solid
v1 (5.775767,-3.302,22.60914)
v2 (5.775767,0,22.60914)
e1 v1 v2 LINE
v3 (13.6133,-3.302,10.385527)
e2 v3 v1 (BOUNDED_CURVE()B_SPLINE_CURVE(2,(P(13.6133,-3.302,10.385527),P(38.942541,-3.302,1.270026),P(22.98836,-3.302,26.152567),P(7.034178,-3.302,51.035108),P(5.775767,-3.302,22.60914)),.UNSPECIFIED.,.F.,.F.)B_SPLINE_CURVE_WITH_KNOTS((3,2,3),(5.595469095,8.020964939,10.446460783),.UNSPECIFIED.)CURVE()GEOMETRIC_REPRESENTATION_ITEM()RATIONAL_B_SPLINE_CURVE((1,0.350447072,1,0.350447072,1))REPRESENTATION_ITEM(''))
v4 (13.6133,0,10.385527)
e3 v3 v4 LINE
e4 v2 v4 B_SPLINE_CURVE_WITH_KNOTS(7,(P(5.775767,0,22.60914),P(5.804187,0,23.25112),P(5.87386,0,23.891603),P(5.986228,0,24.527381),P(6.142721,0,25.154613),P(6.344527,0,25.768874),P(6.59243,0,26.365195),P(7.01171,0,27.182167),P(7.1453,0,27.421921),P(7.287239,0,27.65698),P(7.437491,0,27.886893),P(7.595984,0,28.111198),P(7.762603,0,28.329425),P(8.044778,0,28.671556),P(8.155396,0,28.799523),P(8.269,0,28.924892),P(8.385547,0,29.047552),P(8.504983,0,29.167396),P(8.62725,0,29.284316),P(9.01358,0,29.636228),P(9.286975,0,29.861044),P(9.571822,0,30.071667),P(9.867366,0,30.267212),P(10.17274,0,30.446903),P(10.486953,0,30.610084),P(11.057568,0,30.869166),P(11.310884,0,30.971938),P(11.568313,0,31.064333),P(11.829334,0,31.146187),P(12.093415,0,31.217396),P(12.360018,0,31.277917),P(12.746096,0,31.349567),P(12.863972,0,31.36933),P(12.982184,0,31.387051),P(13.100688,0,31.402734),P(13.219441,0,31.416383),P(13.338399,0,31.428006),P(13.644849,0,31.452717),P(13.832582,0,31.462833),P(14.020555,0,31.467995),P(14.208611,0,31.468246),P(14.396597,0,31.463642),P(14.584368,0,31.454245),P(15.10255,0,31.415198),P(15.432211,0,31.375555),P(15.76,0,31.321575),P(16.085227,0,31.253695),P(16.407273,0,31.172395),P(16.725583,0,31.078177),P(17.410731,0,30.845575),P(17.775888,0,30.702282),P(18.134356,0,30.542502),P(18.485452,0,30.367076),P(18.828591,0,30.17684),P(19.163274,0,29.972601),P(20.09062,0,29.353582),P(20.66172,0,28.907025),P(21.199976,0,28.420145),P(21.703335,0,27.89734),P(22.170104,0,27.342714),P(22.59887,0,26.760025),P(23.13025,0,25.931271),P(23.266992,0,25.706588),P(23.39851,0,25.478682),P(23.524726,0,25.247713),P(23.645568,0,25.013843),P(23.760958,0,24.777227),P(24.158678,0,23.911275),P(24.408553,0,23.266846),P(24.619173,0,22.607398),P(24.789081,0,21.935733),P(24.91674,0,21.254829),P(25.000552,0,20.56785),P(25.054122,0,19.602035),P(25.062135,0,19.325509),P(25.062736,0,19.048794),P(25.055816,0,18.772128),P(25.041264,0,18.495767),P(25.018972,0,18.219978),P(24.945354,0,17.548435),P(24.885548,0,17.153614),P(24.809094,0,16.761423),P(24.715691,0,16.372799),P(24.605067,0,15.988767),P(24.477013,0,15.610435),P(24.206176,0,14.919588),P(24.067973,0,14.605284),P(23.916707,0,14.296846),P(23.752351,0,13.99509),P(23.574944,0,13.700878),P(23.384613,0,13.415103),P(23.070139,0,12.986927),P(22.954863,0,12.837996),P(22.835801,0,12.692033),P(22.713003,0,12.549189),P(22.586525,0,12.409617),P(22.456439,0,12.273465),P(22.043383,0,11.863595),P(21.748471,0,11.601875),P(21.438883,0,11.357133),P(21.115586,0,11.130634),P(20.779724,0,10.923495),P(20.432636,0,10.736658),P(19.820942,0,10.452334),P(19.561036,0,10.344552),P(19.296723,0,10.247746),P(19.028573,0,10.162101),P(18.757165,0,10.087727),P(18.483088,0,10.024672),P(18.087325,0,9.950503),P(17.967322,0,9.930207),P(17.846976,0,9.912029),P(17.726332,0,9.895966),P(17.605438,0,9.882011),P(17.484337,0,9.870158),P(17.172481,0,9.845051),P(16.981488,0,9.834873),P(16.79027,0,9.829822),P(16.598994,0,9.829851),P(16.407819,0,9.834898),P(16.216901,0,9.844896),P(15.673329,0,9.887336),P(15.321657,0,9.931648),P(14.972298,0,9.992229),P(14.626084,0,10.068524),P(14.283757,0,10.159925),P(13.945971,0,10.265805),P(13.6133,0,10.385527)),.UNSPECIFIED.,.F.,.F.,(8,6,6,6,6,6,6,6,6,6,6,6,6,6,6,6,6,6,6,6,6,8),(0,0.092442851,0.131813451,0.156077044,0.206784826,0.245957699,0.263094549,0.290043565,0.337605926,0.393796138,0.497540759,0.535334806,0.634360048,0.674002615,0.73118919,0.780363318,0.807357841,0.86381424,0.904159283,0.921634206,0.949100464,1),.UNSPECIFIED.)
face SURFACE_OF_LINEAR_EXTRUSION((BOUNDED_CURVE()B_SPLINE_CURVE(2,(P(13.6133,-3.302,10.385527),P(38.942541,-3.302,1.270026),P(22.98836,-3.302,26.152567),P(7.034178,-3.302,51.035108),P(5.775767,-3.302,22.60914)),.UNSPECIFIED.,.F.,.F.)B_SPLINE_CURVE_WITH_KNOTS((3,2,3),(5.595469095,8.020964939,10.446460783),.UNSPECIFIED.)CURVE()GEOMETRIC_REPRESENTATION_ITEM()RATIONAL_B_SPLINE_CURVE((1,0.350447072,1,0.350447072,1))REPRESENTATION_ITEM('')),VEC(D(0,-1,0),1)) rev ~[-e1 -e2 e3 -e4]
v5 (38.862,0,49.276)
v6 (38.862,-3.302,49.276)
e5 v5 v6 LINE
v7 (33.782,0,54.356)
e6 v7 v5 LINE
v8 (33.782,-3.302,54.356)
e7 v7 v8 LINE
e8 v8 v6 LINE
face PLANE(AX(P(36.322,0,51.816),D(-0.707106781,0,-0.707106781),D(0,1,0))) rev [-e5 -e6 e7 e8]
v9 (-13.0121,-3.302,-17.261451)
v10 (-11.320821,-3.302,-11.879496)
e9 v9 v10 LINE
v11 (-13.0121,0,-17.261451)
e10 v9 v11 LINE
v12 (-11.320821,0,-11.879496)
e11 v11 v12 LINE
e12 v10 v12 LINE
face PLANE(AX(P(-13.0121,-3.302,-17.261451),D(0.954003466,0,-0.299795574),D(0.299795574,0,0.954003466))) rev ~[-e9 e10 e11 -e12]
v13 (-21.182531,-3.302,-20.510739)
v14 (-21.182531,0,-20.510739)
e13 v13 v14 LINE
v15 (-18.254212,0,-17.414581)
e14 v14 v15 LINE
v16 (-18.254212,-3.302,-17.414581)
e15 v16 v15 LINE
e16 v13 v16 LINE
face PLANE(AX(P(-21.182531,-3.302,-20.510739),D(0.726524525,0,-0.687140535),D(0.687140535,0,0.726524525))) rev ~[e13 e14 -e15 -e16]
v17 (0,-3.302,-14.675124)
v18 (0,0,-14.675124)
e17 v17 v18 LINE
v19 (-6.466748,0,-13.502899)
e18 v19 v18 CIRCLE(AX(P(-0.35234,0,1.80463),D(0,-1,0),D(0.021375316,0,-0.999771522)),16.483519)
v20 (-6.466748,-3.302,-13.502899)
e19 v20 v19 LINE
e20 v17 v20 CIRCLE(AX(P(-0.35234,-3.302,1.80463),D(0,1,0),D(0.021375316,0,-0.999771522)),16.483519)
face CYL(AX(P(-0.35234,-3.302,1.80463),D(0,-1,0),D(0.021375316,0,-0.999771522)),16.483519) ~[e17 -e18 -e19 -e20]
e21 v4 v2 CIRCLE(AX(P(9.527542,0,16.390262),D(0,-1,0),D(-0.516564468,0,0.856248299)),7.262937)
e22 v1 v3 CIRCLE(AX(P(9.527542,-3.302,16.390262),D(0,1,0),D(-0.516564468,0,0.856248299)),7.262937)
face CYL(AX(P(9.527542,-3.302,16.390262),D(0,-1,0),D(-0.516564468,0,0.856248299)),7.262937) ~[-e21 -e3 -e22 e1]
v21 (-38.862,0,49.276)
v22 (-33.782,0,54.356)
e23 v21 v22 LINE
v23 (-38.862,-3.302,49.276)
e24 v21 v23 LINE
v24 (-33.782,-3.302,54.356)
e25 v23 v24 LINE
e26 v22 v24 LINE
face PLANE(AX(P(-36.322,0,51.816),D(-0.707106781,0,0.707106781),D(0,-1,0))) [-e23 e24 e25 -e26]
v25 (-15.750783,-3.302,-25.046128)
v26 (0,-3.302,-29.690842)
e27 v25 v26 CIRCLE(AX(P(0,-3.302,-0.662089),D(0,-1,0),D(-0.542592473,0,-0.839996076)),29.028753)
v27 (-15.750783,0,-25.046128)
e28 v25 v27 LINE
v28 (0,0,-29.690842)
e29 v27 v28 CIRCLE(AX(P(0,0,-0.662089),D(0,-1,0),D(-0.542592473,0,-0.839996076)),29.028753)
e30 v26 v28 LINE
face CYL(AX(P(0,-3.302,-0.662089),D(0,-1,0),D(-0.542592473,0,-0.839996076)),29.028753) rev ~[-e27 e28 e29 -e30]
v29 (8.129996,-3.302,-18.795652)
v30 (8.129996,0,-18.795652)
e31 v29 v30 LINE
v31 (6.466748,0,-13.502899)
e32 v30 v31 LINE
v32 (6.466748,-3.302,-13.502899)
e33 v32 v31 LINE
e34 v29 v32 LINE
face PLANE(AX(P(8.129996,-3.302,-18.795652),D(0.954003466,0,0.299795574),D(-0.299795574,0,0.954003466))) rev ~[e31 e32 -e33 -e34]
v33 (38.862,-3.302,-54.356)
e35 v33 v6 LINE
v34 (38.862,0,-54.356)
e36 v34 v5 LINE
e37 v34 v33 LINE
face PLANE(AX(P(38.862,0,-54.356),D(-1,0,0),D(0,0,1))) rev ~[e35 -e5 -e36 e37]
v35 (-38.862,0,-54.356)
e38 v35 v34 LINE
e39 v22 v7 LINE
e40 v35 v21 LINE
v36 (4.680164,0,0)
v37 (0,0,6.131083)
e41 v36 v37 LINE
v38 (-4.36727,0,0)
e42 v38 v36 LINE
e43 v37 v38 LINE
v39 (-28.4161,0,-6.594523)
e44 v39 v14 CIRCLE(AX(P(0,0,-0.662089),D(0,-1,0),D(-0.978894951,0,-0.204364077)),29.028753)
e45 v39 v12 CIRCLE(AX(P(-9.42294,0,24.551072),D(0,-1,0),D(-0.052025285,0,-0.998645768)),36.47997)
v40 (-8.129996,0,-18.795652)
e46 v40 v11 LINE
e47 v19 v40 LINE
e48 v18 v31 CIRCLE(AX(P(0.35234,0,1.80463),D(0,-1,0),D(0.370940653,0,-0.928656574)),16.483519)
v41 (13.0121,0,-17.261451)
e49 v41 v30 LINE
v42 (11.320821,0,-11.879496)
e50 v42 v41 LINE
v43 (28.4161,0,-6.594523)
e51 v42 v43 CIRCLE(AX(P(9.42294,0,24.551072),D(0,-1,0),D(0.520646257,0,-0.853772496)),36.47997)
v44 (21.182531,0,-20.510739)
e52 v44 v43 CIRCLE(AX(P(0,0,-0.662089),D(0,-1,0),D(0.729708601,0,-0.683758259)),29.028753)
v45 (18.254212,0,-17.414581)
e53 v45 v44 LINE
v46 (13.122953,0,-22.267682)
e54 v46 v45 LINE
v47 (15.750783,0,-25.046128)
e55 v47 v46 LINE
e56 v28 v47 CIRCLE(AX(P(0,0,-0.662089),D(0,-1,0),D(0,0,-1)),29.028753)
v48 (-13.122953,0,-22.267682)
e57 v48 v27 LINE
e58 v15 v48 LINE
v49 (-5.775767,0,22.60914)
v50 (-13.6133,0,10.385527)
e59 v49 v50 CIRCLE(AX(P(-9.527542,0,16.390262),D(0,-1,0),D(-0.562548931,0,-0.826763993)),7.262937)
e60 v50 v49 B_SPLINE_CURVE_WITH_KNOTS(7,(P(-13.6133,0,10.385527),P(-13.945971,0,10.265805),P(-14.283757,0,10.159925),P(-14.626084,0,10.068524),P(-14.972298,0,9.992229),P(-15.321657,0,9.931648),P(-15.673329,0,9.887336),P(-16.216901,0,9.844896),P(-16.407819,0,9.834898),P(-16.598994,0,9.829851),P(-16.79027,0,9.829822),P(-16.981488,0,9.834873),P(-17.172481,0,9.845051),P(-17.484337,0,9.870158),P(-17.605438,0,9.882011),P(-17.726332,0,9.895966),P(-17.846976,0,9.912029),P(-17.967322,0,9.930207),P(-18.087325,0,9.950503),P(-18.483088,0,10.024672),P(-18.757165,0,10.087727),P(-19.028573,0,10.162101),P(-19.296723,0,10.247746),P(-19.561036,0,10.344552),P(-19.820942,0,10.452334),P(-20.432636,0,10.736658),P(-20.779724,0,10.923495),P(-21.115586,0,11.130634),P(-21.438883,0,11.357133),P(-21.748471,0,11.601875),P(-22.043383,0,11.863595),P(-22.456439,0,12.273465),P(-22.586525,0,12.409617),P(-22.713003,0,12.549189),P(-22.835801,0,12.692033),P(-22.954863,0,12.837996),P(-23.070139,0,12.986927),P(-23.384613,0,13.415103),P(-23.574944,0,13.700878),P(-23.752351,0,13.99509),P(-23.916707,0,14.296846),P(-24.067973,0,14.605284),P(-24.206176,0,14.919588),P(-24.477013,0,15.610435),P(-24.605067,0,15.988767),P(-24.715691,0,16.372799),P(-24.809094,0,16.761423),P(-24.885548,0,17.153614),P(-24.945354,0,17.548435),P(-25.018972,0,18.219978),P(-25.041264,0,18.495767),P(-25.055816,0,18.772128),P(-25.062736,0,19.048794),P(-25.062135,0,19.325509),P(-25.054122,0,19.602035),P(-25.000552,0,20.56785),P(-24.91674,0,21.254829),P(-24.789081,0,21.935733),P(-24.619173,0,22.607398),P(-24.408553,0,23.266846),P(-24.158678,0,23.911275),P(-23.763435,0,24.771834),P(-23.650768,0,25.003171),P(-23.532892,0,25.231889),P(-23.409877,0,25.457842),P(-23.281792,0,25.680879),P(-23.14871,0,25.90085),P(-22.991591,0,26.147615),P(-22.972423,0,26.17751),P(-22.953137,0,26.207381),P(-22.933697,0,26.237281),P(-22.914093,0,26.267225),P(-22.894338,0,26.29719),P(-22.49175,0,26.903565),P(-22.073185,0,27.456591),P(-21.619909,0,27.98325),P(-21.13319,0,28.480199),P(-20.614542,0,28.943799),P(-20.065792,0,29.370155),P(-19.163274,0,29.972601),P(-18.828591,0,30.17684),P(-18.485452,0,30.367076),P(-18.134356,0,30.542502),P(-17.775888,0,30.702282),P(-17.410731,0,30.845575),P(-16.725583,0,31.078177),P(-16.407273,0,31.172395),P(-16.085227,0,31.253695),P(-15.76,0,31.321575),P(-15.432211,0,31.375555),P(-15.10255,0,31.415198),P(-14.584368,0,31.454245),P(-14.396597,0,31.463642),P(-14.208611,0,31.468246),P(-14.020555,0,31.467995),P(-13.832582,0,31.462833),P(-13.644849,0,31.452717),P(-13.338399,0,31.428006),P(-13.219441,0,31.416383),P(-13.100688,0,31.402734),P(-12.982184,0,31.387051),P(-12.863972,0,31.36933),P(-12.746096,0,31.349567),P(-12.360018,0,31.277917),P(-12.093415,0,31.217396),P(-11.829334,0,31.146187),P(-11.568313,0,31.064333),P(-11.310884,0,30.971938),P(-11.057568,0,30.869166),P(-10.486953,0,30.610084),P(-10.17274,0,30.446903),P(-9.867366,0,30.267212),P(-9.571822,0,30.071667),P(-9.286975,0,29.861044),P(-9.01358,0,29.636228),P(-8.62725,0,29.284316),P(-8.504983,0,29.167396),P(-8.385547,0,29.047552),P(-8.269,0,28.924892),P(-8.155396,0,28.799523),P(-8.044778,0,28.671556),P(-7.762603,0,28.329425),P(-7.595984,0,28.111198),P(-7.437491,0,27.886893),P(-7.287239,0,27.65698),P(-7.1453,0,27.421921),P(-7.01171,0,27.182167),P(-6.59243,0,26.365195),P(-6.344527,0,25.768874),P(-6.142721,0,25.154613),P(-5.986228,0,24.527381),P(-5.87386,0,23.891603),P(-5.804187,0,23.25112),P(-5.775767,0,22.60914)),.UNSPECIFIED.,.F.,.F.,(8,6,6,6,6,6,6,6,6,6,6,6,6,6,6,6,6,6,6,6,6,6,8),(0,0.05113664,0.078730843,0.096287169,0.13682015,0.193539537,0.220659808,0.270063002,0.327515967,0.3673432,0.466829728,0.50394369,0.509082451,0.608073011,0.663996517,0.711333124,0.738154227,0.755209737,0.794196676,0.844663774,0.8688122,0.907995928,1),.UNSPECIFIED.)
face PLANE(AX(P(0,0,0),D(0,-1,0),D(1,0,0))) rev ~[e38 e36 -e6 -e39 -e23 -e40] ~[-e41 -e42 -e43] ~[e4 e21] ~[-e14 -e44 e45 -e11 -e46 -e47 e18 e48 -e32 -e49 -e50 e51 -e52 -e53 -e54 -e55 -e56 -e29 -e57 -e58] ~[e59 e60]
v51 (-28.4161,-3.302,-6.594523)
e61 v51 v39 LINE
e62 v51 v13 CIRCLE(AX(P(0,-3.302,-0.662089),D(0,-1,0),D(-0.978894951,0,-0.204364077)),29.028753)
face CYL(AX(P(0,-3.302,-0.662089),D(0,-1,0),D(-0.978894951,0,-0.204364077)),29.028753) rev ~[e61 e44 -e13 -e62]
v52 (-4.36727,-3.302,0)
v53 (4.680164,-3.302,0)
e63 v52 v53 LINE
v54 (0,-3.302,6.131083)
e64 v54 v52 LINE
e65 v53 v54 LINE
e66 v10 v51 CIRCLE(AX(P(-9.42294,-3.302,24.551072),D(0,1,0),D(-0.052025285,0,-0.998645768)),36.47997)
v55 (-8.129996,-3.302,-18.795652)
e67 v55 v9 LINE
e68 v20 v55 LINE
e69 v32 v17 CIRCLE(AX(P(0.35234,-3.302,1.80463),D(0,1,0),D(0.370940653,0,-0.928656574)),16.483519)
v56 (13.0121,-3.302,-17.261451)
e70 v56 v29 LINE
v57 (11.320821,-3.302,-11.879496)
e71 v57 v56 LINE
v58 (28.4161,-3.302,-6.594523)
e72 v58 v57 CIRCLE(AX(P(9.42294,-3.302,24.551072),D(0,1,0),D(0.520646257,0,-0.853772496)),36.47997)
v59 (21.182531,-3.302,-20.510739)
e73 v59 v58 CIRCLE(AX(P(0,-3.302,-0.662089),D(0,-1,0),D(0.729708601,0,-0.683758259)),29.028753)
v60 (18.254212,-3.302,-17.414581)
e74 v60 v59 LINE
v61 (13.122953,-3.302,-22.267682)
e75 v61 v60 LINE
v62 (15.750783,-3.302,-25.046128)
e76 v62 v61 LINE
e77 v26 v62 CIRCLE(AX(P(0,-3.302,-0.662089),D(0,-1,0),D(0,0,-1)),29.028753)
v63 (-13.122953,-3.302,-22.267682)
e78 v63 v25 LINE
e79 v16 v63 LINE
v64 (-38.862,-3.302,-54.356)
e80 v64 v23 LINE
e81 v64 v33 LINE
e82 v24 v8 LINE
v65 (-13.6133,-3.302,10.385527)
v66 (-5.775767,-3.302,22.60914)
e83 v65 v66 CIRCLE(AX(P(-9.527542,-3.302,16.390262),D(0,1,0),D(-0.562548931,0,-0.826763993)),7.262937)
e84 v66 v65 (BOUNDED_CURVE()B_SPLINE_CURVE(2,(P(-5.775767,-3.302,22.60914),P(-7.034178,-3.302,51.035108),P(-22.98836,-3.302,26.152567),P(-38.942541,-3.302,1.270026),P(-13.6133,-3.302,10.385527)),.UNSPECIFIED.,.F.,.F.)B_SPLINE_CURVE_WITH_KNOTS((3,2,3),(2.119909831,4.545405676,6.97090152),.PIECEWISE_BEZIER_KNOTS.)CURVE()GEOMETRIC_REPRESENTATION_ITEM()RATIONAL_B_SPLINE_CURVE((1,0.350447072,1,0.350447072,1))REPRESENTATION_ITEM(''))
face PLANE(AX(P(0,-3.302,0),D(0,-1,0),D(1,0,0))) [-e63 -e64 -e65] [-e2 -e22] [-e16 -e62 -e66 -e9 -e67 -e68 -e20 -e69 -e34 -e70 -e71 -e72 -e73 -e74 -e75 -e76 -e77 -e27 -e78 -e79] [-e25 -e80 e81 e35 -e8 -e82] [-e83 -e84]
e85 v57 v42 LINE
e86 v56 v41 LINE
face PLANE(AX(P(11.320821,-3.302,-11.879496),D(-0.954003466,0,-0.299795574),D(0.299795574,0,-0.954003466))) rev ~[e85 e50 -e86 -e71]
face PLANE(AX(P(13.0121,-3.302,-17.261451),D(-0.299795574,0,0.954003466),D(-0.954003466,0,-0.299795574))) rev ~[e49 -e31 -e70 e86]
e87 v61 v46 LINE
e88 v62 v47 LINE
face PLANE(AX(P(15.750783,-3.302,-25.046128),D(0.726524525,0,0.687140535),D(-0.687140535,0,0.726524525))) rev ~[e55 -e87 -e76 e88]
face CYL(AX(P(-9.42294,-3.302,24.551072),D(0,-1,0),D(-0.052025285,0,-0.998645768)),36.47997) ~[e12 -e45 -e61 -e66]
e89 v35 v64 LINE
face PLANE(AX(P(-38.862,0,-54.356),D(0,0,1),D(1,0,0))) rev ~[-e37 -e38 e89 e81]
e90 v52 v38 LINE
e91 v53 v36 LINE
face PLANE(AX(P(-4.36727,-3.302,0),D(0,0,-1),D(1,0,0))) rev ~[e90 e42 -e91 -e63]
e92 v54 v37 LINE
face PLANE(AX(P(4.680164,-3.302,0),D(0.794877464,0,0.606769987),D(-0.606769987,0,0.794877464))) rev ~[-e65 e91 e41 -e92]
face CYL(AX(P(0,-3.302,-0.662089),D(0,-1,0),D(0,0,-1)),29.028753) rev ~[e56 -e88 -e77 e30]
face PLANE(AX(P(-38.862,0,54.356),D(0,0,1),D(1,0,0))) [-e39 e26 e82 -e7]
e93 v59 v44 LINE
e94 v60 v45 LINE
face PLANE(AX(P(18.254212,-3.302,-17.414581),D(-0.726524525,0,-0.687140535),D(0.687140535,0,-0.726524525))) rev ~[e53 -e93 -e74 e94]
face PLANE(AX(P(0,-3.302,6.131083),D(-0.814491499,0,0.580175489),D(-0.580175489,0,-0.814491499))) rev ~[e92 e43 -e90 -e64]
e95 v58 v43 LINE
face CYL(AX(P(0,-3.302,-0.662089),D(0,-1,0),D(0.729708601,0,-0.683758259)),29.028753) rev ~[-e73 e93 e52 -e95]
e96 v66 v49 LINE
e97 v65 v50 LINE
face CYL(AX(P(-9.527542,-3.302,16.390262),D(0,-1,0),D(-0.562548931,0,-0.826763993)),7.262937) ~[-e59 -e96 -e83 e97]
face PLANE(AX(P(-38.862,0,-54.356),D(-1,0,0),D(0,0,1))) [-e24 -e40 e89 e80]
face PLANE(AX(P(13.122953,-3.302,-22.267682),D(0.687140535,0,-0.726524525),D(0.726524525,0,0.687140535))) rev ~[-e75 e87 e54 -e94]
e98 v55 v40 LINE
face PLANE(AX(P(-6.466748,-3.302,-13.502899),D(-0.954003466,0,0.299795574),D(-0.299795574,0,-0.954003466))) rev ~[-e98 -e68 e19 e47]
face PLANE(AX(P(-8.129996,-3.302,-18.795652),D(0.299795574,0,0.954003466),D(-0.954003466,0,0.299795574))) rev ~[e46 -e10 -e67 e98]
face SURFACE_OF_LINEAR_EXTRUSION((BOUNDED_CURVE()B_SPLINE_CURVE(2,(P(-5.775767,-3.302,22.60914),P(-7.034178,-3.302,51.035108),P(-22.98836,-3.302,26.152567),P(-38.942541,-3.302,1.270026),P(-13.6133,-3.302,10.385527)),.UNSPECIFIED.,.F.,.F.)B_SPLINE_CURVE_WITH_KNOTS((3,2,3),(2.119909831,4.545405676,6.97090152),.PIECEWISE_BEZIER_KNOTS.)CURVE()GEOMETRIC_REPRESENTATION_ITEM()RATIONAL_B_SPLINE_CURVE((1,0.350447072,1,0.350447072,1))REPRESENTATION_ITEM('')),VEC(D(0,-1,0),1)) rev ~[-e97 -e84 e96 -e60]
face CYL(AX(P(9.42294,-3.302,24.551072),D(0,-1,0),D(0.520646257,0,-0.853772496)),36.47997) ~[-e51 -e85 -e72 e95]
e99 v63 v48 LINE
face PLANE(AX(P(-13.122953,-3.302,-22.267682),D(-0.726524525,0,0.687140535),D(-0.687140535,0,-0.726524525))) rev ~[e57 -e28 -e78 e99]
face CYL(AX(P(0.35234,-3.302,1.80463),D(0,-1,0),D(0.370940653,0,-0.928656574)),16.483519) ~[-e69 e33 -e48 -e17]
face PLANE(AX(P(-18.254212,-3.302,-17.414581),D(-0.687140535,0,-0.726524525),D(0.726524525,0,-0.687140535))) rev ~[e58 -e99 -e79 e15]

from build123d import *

# Parameters (mm, degrees)
F0_W     = 77.724
F0_H     = 108.712
F1_DEPTH = 3.302
F3_R     = 13.3445871966
F4_DEPTH = 3.302
F5_SIZE  = 5.08
F7_DEPTH = 3.303


with BuildPart() as f1:
    # F0 (on Front) → F1 (new body)
    with BuildSketch(Plane.XZ):
        Rectangle(F0_W, F0_H)
    extrude(amount=F1_DEPTH)

    # F3 (on face) → F4 (join)
    with BuildSketch(Plane.XZ.offset(3.302)):
        with BuildLine():
            add(Edge.make_bspline(
                [(-33.1284857231, -24.3833554431), (-30.3980902484, -23.448268281), (-27.6625298974, -23.0135580616), (-24.9168122419, -22.8877504962)],
                knots=[0.0236239796, 0.0236239796, 0.0236239796, 0.0236239796, 0.1438563975, 0.1438563975, 0.1438563975, 0.1438563975], degree=3))
            ThreePointArc((-33.1284857231, -24.3833554431), (-29.1410849834, -38.4326879001), (-15.8749999992, -44.5395771521))
            ThreePointArc((-15.8749999992, -44.5395771521), (-7.7803065213, -45.3411097626), (9e-10, -47.7145771515))
            ThreePointArc((9e-10, -47.7145771515), (7.780306523, -45.3411097624), (15.8750000008, -44.5395771515))
            ThreePointArc((15.8750000008, -44.5395771515), (28.9710149024, -38.6284104056), (33.2008619827, -24.8968448621))
            add(Edge.make_bspline(
                [(22.7832318895, -28.264905571), (26.870414184, -28.3483991479), (30.7081117423, -27.7740633769), (33.2008619827, -24.8968448621)],
                knots=[0.8224951004, 0.8224951004, 0.8224951004, 0.8224951004, 0.9908039431, 0.9908039431, 0.9908039431, 0.9908039431], degree=3))
            add(Edge.make_bspline(
                [(15.9953683619, -27.7933645546), (16.7598950609, -27.862629463), (19.0104314318, -28.0581684328), (21.3052242348, -28.2347126075), (22.7832318895, -28.264905571)],
                knots=[0.7300371536, 0.7300371536, 0.7300371536, 0.7300371536, 0.7616312241, 0.8224951004, 0.8224951004, 0.8224951004, 0.8224951004], degree=3))
            add(Edge.make_bspline(
                [(12.0445173218, -27.4086319137), (13.3501324037, -27.5450763369), (14.6659309282, -27.6729196282), (15.9953683619, -27.7933645546)],
                knots=[0.6750981435, 0.6750981435, 0.6750981435, 0.6750981435, 0.7300371536, 0.7300371536, 0.7300371536, 0.7300371536], degree=3))
            add(Edge.make_bspline(
                [(6.5035843618, -26.7679947406), (8.3365045469, -27.0014140297), (10.1801283043, -27.2137923413), (12.0445173218, -27.4086319137)],
                knots=[0.5966464709, 0.5966464709, 0.5966464709, 0.5966464709, 0.6750981435, 0.6750981435, 0.6750981435, 0.6750981435], degree=3))
            add(Edge.make_bspline(
                [(-15.7821923495, -23.3437299796), (-10.5480047667, -23.9624284424), (-3.1004870846, -25.4363431139), (4.3262408996, -26.490713729), (6.5035843618, -26.7679947406)],
                knots=[0.2765511336, 0.2765511336, 0.2765511336, 0.2765511336, 0.5034529768, 0.5966464709, 0.5966464709, 0.5966464709, 0.5966464709], degree=3))
            add(Edge.make_bspline(
                [(-24.9168122419, -22.8877504962), (-22.5127229742, -22.777596192), (-19.4725911361, -22.9372512735), (-16.4147628171, -23.2689580365), (-15.7821923495, -23.3437299796)],
                knots=[0.1438563975, 0.1438563975, 0.1438563975, 0.1438563975, 0.2491292266, 0.2765511336, 0.2765511336, 0.2765511336, 0.2765511336], degree=3))
        make_face()
        with BuildLine():
            ThreePointArc((-24.3962783332, -9.4429305632), (-23.5493439512, -16.2082072875), (-24.9168122419, -22.8877504962))
            add(Edge.make_bspline(
                [(-24.9168122419, -22.8877504962), (-22.5127229742, -22.777596192), (-19.4725911361, -22.9372512735), (-16.4147628171, -23.2689580365), (-15.7821923495, -23.3437299796)],
                knots=[0.1438563975, 0.1438563975, 0.1438563975, 0.1438563975, 0.2491292266, 0.2765511336, 0.2765511336, 0.2765511336, 0.2765511336], degree=3))
            ThreePointArc((-15.7821923495, -23.3437299796), (-16.7909764629, -16.1431204561), (-15.7821923495, -8.9425109327))
            add(Edge.make_bspline(
                [(-20.8150930703, 3.0249084812), (-20.084698855, 3.2617064252), (-18.5750809579, 3.7511331524), (-20.1108934357, 5.7423249077), (-21.3989497629, 8.4805039988), (-19.5926222129, 8.6232034417), (-20.0960081308, 6.4882204736), (-17.9845367, 4.4717269755), (-19.4827279307, 7.4877563676), (-17.6531933794, 7.9935220173), (-17.6518746238, 3.7165445405), (-19.7201607312, 2.5442912986), (-19.0033211234, 0.5113026434), (-21.5358089244, 0.646088536), (-20.7796208818, -5.7027505195), (-14.9489180074, 0.0978196974), (-17.977030073, 1.5236381763), (-14.9168721562, 2.6666255778), (-16.1211586732, 6.3598723413), (-13.8328776174, 5.6005762962), (-15.1421128769, 3.3154322822), (-14.4747759607, 0.1624480587), (-13.8084140261, 5.1188240441), (-11.0343102947, 2.7331078221), (-14.5615723999, -0.162479085), (-17.3031216925, -3.3366762112), (-18.0975664008, -8.8898410691), (-13.4356882131, -5.5746333853), (-15.3648709473, -3.8082111356), (-12.0527139611, -3.6659211986), (-13.248535603, -1.079337143), (-9.5910344453, -1.7447413323), (-10.7422685487, 3.0079941618), (-8.9849464366, -1.96339633), (-8.8102943074, 5.4988116301), (-7.4861779197, -0.6957485248), (-9.6724060403, -0.966318494), (-11.0218385517, -3.5291741027), (-13.7004320012, -4.2797101397), (-12.8029593717, -6.9381020727), (-14.7089673153, -8.2196946287), (-15.7821923495, -8.9425109327)],
                knots=[0, 0, 0, 0, 0.0231511603, 0.0478500744, 0.0752755755, 0.0903366321, 0.1142638791, 0.1352244444, 0.1593040946, 0.1744947233, 0.2060790631, 0.2315955315, 0.2516703156, 0.2733460952, 0.3049833457, 0.3431527772, 0.3650886659, 0.3896180862, 0.4183185893, 0.4354180503, 0.4626318971, 0.4841465121, 0.512674348, 0.5346264378, 0.5675595767, 0.6056671213, 0.6368592747, 0.6681518224, 0.6879987795, 0.7121233264, 0.7334743783, 0.7591560932, 0.7848708559, 0.8073025156, 0.8374341523, 0.8673194844, 0.8904493251, 0.9187369989, 0.9444600919, 0.9686867066, 1, 1, 1, 1], degree=3))
            add(Edge.make_bspline(
                [(-25.8914344013, -2.4853385985), (-26.396572956, -2.0003344615), (-27.3138435109, -1.1196261405), (-29.1352849859, -2.0598979002), (-28.7106271057, 0.8204026064), (-32.0312644098, -1.1715068103), (-31.3002695814, 3.7485837155), (-29.4483178555, 3.8301118075), (-30.8071023081, 1.5653871303), (-28.9526334159, 1.3619840648), (-29.4792210737, 5.2085047756), (-26.921055424, 4.4342075194), (-28.8119762327, 2.2854028303), (-27.5906596289, -1.3990701213), (-27.7699356497, 3.0747016102), (-25.2099586785, 2.6066763518), (-26.5953437573, -0.395391095), (-23.7025988652, -2.0340069969), (-23.1772681034, -6.0499515041), (-20.5435134821, -4.1808959475), (-25.0748704565, 2.6489737746), (-20.1368344266, 0.7949418705), (-20.6048167244, 2.3336418411), (-20.8150930703, 3.0249084812)],
                knots=[0, 0, 0, 0, 0.0457250435, 0.0830311605, 0.1245988121, 0.1705511092, 0.2321726775, 0.2625557415, 0.30723362, 0.3358214151, 0.393012377, 0.4286583434, 0.4808472993, 0.5282384525, 0.5813000538, 0.6192860311, 0.6705302416, 0.7286736986, 0.7872738172, 0.8280557864, 0.9074882994, 0.958434574, 1, 1, 1, 1], degree=3))
            ThreePointArc((-25.8914344013, -2.4853385985), (-24.9290967698, -4.9824855111), (-24.3962783332, -7.6050683856))
            add(Edge.make_bspline(
                [(-24.3962783332, -9.4429305632), (-25.4357243907, -10.1342055857), (-27.412273175, -11.4486922391), (-27.4547789496, -7.4214675852), (-30.5466070306, -9.5733915774), (-30.4542370334, -5.4520792207), (-32.3177618611, -5.8417990903), (-32.7140680164, -4.2769830225), (-32.0543630337, -2.7007935171), (-32.1251676799, -4.5533058245), (-30.3843482976, -5.4648837492), (-32.0501040037, -1.6640768267), (-30.4436660674, -1.9005229869), (-30.1720801803, -6.5942041642), (-29.7456686663, -3.178537531), (-28.1334595609, -3.5814958653), (-29.8697325683, -5.6494579394), (-29.5018476184, -7.7306733995), (-27.2359049314, -6.3250302911), (-26.4788550338, -9.3239236743), (-25.0993332141, -8.1853413666), (-24.3962783332, -7.6050683856)],
                knots=[0, 0, 0, 0, 0.0670169121, 0.1274354192, 0.1840138636, 0.2505621343, 0.2960523516, 0.3441354147, 0.3840734056, 0.4287810373, 0.4665753725, 0.5348972739, 0.5667760176, 0.6369485958, 0.6883070256, 0.7231632661, 0.7842390879, 0.8324575559, 0.8851485442, 0.9414679355, 1, 1, 1, 1], degree=3))
        make_face()
        with BuildLine():
            add(Edge.make_bspline(
                [(-20.2924981713, -15.781018883), (-20.5370775999, -16.1379246214), (-20.134132622, -17.1534868603), (-20.8639151565, -18.5661521393), (-21.9358468203, -19.4575377926), (-22.3700864307, -21.8865095148), (-20.237349518, -21.5763362209), (-19.5672362136, -20.438180371), (-19.2965010699, -18.8033454883), (-19.7803037906, -17.8720601229), (-19.908738804, -16.4540465799), (-19.0188083322, -15.0649598827), (-20.0853771822, -15.4787748635), (-20.2924981713, -15.781018883)],
                knots=[0, 0, 0, 0, 0.0904118203, 0.1854248684, 0.2814922978, 0.3865094541, 0.4809925493, 0.5711470892, 0.6690619631, 0.748512495, 0.8439845899, 0.9234351565, 1, 1, 1, 1], degree=3))
        make_face(mode=Mode.SUBTRACT)
        with BuildLine():
            add(Edge.make_bspline(
                [(-22.3910957575, -11.5529615432), (-22.0568118654, -12.2037220004), (-21.1170784891, -12.8832887919), (-21.7129777335, -14.1967346716), (-20.5379115522, -14.568750962), (-20.4867607869, -13.5076873001), (-20.8432701563, -11.8831681267), (-21.6439811905, -11.2404808042), (-22.9718655512, -9.3501247732), (-22.6978835435, -10.9557285785), (-22.3910957575, -11.5529615432)],
                knots=[0, 0, 0, 0, 0.1505340204, 0.2658311351, 0.3614801071, 0.4617187858, 0.6051372816, 0.7298931385, 0.8618479683, 1, 1, 1, 1], degree=3))
        make_face(mode=Mode.SUBTRACT)
        with BuildLine():
            add(Edge.make_bspline(
                [(-18.3790698647, -10.1024601609), (-18.7969421772, -10.2564427963), (-19.1553590595, -11.577398565), (-19.219348267, -12.6506630096), (-19.2408550579, -13.9350019391), (-18.8743899715, -14.8858473731), (-18.2833235222, -14.0155234153), (-18.1315989973, -13.0706647968), (-18.7065283271, -12.3462231403), (-18.4694817034, -11.2210464666), (-17.1590443019, -10.374237249), (-18.0760721444, -9.9908079022), (-18.3790698647, -10.1024601609)],
                knots=[0, 0, 0, 0, 0.1240572212, 0.2333232805, 0.347818092, 0.428679644, 0.5131510602, 0.6107152668, 0.7012679009, 0.8047604962, 0.9100465523, 1, 1, 1, 1], degree=3))
        make_face(mode=Mode.SUBTRACT)
        with BuildLine():
            ThreePointArc((5.4403450859, -12.5461180708), (6.6092683485, -19.609411059), (6.5035843618, -26.7679947406))
            add(Edge.make_bspline(
                [(6.5035843618, -26.7679947406), (8.3365045469, -27.0014140297), (10.1801283043, -27.2137923413), (12.0445173218, -27.4086319137)],
                knots=[0.5966464709, 0.5966464709, 0.5966464709, 0.5966464709, 0.6750981435, 0.6750981435, 0.6750981435, 0.6750981435], degree=3))
            Line((12.0445173218, -27.4086319137), (12.0445173218, -21.4756764472))
            ThreePointArc((12.0445173218, -21.4756764472), (14.0199428419, -19.5002509271), (15.9953683619, -21.4756764472))
            Line((15.9953683619, -21.4756764472), (15.9953683619, -27.7933645546))
            add(Edge.make_bspline(
                [(15.9953683619, -27.7933645546), (16.7598950609, -27.862629463), (19.0104314318, -28.0581684328), (21.3052242348, -28.2347126075), (22.7832318895, -28.264905571)],
                knots=[0.7300371536, 0.7300371536, 0.7300371536, 0.7300371536, 0.7616312241, 0.8224951004, 0.8224951004, 0.8224951004, 0.8224951004], degree=3))
            ThreePointArc((22.7832318895, -28.264905571), (22.4736636829, -20.3696155623), (23.5801553445, -12.5461180708))
            Line((23.5801553445, -12.5461180708), (28.4554600831, -13.4531514135))
            ThreePointArc((28.4554600831, -13.4531514135), (31.673336573, -11.9989868814), (31.424967593, -8.4765393743))
            ThreePointArc((31.424967593, -8.4765393743), (29.2529740879, -8.2440657168), (29.0205004305, -10.4160592219))
            ThreePointArc((29.0205004305, -10.4160592219), (29.058069024, -11.9208265797), (27.614886003, -12.3485636115))
            ThreePointArc((27.614886003, -12.3485636115), (23.4712314741, -5.8636115848), (28.4554600831, 0))
            ThreePointArc((28.4554600831, 0), (23.3706331923, -0.6006945639), (18.2612345592, -0.9328753515))
            Line((18.2612345592, -0.9328753515), (21.109645709, 8.6648291047))
            Line((21.109645709, 8.6648291047), (22.7452469365, 8.179414619))
            ThreePointArc((22.7452469365, 8.179414619), (24.0675287583, 9.9087492795), (21.9295363303, 9.4988517773))
            ThreePointArc((21.9295363303, 9.4988517773), (17.0915933325, 15.0640837031), (15.5871994793, 22.2831070423))
            Line((15.5871994793, 22.2831070423), (14.8853833456, 29.6840668302))
            Line((14.8853833456, 29.6840668302), (17.9889984262, 30.165095753))
            Line((17.9889984262, 30.165095753), (17.720128815, 31.8998516907))
            Line((17.720128815, 31.8998516907), (14.8043116011, 31.4479295364))
            Line((14.8043116011, 31.4479295364), (14.2361351446, 35.1138234881))
            Line((14.2361351446, 35.1138234881), (12.1174789965, 34.7854532301))
            Line((12.1174789965, 34.7854532301), (12.6562453806, 31.3093140721))
            Line((12.6562453806, 31.3093140721), (10.0379107516, 30.7162171018))
            Line((10.0379107516, 30.7162171018), (10.2517836951, 29.4975203391))
            Line((10.2517836951, 29.4975203391), (12.7509497106, 29.9361068755))
            Line((12.7509497106, 29.9361068755), (14.0939988196, 22.2831070423))
            ThreePointArc((14.0939988196, 22.2831070423), (12.6245914015, 15.2177663733), (7.6988285058, 9.9437681912))
            ThreePointArc((7.6988285058, 9.9437681912), (5.5906171254, 10.4864212664), (6.8022884056, 8.6778637491))
            Line((6.8022884056, 8.6778637491), (8.4650181234, 9.060157463))
            Line((8.4650181234, 9.060157463), (10.762639533, -0.9330055424))
            ThreePointArc((10.762639533, -0.9330055424), (5.6515483018, -0.6008483836), (0.5650403473, 0))
            ThreePointArc((0.5650403473, 0), (5.5492689564, -5.8636115848), (1.4056144274, -12.3485636115))
            ThreePointArc((1.4056144274, -12.3485636115), (-0.0375685935, -11.9208265797), (0, -10.4160592219))
            ThreePointArc((0, -10.4160592219), (-0.2324736575, -8.2440657168), (-2.4044671625, -8.4765393743))
            ThreePointArc((-2.4044671625, -8.4765393743), (-2.6528361426, -11.9989868814), (0.5650403473, -13.4531514135))
            Line((0.5650403473, -13.4531514135), (5.4403450859, -12.5461180708))
        make_face()
        Polygon((9.1227404773, -7.4148867279), (8.4774624556, -4.9826856703), (9.749203307, -4.868891682), (10.3401336819, -7.1323132142), align=None, mode=Mode.SUBTRACT)
        Polygon((10.9397291529, -9.5362256838), (9.768018499, -9.8470877856), (9.2899553012, -8.0451578014), (10.461665955, -7.7342956997), align=None, mode=Mode.SUBTRACT)
        Polygon((12.2584053658, -7.3401992658), (12.7159978886, -9.0649705743), (11.5734964264, -9.3680832964), (11.1159039036, -7.6433119879), align=None, mode=Mode.SUBTRACT)
        Polygon((10.332212454, -4.8167246576), (11.5597705233, -4.7068840966), (12.1378842059, -6.8859273354), (10.9000811353, -7.0559568703), align=None, mode=Mode.SUBTRACT)
        Polygon((17.9045965268, -7.6433119879), (17.4470040041, -9.3680832964), (16.3045025419, -9.0649705743), (16.7620950646, -7.3401992658), align=None, mode=Mode.SUBTRACT)
        Polygon((18.5588344754, -7.7342956997), (19.7305451293, -8.0451578014), (19.2524819314, -9.8470877856), (18.0807712776, -9.5362256838), align=None, mode=Mode.SUBTRACT)
        Polygon((18.6803667486, -7.1323132142), (19.2712971234, -4.868891682), (20.5430379748, -4.9826856703), (19.8977599531, -7.4148867279), align=None, mode=Mode.SUBTRACT)
        Polygon((16.8826162245, -6.8859273354), (17.4607299071, -4.7068840966), (18.6882879764, -4.8167246576), (18.1204192951, -7.0559568703), align=None, mode=Mode.SUBTRACT)
        with BuildLine():
            ThreePointArc((14.2767767446, 4.6611620079), (12.1414040207, 5.7303494735), (11.1097303552, 7.8840968947))
            Line((11.1097303552, 7.8840968947), (14.2767767446, 7.8840968947))
            Line((14.2767767446, 7.8840968947), (14.2767767446, 4.6611620079))
        make_face(mode=Mode.SUBTRACT)
        with BuildLine():
            ThreePointArc((11.1459939594, 8.983289175), (12.2280091457, 10.9819830574), (14.2767767446, 11.9658963789))
            Line((14.2767767446, 11.9658963789), (14.2767767446, 8.983289175))
            Line((14.2767767446, 8.983289175), (11.1459939594, 8.983289175))
        make_face(mode=Mode.SUBTRACT)
        with BuildLine():
            ThreePointArc((18.430607267, 7.8840968947), (17.3673699452, 5.6986165643), (15.1747141111, 4.6502567644))
            Line((15.1747141111, 4.6502567644), (15.1747141111, 7.8840968947))
            Line((15.1747141111, 7.8840968947), (18.430607267, 7.8840968947))
        make_face(mode=Mode.SUBTRACT)
        with BuildLine():
            ThreePointArc((15.1747141111, 11.9768016224), (17.2797356479, 11.0126579566), (18.3943436628, 8.983289175))
            Line((18.3943436628, 8.983289175), (15.1747141111, 8.983289175))
            Line((15.1747141111, 8.983289175), (15.1747141111, 11.9768016224))
        make_face(mode=Mode.SUBTRACT)
        with BuildLine():
            ThreePointArc((1.5084841621, 28.7364097307), (5.1963193944, 39.8156504287), (15.8749999992, 44.5395771521))
            ThreePointArc((15.8749999992, 44.5395771521), (7.7803065213, 45.3411097626), (-9e-10, 47.7145771515))
            ThreePointArc((-9e-10, 47.7145771515), (-7.780306523, 45.3411097624), (-15.8750000008, 44.5395771515))
            ThreePointArc((-15.8750000008, 44.5395771515), (-30.2008361805, 37.0625327748), (-32.2586794783, 21.0343995142))
            ThreePointArc((-32.2586794783, 21.0343995142), (-31.4618060576, 11.8664205536), (-35.4362714152, 3.5663922047))
            ThreePointArc((-35.4362714152, 3.5663922047), (-26.8661908779, 8.4248419398), (-17.0921185192, 9.6570447531))
            ThreePointArc((-17.0921185192, 9.6570447531), (-3.3712650978, 14.8871009528), (1.5084841621, 28.7364097307))
        make_face()
        with Locations((-15.8750000008, 27.0770771515)):
            Circle(F3_R, mode=Mode.SUBTRACT)
    extrude(amount=-F4_DEPTH)

    # F5
    f5_edges = [f1.edges().sort_by_distance(p)[0] for p in [
        (-38.862, -1.651, 54.356),
        (38.862, -1.651, 54.356),
    ]]
    chamfer(f5_edges, length=F5_SIZE)

    # F6 (on face) → F7 (cut, through all)
    with BuildSketch(Plane.XZ.offset(3.302)):
        with BuildLine():
            ThreePointArc((5.7757666146, 22.609140253), (15.6416294725, 20.3104914352), (13.6132997632, 10.3855272082))
            add(Edge.make_bspline(
                [(13.6132997632, 10.3855272082), (38.942541189, 1.270026192), (22.9883596932, 26.1525673378), (7.0341781974, 51.0351084836), (5.7757666146, 22.609140253)],
                knots=[5.5954690947, 5.5954690947, 5.5954690947, 8.0209649387, 8.0209649387, 10.4464607828, 10.4464607828, 10.4464607828], degree=2, weights=[1, 0.3504470718, 1, 0.3504470718, 1]))
        make_face()
        Polygon((4.6801641583, 0), (0, 6.1310827732), (-4.3672695756, 0), align=None)
        with BuildLine():
            ThreePointArc((-15.7507828857, -25.0461277001), (-8.2106719148, -28.5054611384), (1.1e-09, -29.690842082))
            ThreePointArc((0, -29.690842082), (8.2106719158, -28.5054611381), (15.7507828867, -25.0461276995))
            Line((15.7507828867, -25.0461276995), (13.1229529608, -22.2676816723))
            Line((13.1229529608, -22.2676816723), (18.2542123508, -17.4145814679))
            Line((18.2542123508, -17.4145814679), (21.182530755, -20.5107387025))
            ThreePointArc((21.182530755, -20.5107387025), (25.7569660306, -14.0504124271), (28.4160997436, -6.594523374))
            ThreePointArc((28.4160997436, -6.594523374), (20.197522428, -10.3014258409), (11.3208206988, -11.8794959923))
            Line((11.3208206988, -11.8794959923), (13.0121000111, -17.2614511102))
            Line((13.0121000111, -17.2614511102), (8.1299955286, -18.7956523681))
            Line((8.1299955286, -18.7956523681), (6.4667478635, -13.5028989958))
            ThreePointArc((6.4667478635, -13.5028989958), (3.2923883342, -14.4145728535), (0, -14.6751236171))
            ThreePointArc((5e-10, -14.6751236171), (-3.2923883337, -14.4145728536), (-6.466747863, -13.5028989961))
            Line((-6.466747863, -13.5028989961), (-8.1299955279, -18.7956523684))
            Line((-8.1299955279, -18.7956523684), (-13.0121000105, -17.2614511107))
            Line((-13.0121000105, -17.2614511107), (-11.3208206984, -11.8794959927))
            ThreePointArc((-11.3208206984, -11.8794959927), (-20.1975224276, -10.3014258416), (-28.4160997433, -6.594523375))
            ThreePointArc((-28.4160997433, -6.594523375), (-25.7569660301, -14.050412428), (-21.1825307542, -20.5107387033))
            Line((-21.1825307542, -20.5107387033), (-18.2542123502, -17.4145814686))
            Line((-18.2542123502, -17.4145814686), (-13.12295296, -22.2676816727))
            Line((-13.12295296, -22.2676816727), (-15.7507828857, -25.0461277001))
        make_face()
        with BuildLine():
            ThreePointArc((-13.6132997636, 10.3855272077), (-15.6416294733, 20.3104914347), (-5.7757666155, 22.6091402528))
            add(Edge.make_bspline(
                [(-5.7757666155, 22.6091402528), (-7.0341781993, 51.0351084833), (-22.9883596942, 26.1525673369), (-38.942541189, 1.2700261905), (-13.6132997636, 10.3855272077)],
                knots=[2.1199098315, 2.1199098315, 2.1199098315, 4.5454056756, 4.5454056756, 6.9709015197, 6.9709015197, 6.9709015197], degree=2, weights=[1, 0.3504470718, 1, 0.3504470718, 1]))
        make_face()
    extrude(amount=-F7_DEPTH, mode=Mode.SUBTRACT)


solid = f1.part
